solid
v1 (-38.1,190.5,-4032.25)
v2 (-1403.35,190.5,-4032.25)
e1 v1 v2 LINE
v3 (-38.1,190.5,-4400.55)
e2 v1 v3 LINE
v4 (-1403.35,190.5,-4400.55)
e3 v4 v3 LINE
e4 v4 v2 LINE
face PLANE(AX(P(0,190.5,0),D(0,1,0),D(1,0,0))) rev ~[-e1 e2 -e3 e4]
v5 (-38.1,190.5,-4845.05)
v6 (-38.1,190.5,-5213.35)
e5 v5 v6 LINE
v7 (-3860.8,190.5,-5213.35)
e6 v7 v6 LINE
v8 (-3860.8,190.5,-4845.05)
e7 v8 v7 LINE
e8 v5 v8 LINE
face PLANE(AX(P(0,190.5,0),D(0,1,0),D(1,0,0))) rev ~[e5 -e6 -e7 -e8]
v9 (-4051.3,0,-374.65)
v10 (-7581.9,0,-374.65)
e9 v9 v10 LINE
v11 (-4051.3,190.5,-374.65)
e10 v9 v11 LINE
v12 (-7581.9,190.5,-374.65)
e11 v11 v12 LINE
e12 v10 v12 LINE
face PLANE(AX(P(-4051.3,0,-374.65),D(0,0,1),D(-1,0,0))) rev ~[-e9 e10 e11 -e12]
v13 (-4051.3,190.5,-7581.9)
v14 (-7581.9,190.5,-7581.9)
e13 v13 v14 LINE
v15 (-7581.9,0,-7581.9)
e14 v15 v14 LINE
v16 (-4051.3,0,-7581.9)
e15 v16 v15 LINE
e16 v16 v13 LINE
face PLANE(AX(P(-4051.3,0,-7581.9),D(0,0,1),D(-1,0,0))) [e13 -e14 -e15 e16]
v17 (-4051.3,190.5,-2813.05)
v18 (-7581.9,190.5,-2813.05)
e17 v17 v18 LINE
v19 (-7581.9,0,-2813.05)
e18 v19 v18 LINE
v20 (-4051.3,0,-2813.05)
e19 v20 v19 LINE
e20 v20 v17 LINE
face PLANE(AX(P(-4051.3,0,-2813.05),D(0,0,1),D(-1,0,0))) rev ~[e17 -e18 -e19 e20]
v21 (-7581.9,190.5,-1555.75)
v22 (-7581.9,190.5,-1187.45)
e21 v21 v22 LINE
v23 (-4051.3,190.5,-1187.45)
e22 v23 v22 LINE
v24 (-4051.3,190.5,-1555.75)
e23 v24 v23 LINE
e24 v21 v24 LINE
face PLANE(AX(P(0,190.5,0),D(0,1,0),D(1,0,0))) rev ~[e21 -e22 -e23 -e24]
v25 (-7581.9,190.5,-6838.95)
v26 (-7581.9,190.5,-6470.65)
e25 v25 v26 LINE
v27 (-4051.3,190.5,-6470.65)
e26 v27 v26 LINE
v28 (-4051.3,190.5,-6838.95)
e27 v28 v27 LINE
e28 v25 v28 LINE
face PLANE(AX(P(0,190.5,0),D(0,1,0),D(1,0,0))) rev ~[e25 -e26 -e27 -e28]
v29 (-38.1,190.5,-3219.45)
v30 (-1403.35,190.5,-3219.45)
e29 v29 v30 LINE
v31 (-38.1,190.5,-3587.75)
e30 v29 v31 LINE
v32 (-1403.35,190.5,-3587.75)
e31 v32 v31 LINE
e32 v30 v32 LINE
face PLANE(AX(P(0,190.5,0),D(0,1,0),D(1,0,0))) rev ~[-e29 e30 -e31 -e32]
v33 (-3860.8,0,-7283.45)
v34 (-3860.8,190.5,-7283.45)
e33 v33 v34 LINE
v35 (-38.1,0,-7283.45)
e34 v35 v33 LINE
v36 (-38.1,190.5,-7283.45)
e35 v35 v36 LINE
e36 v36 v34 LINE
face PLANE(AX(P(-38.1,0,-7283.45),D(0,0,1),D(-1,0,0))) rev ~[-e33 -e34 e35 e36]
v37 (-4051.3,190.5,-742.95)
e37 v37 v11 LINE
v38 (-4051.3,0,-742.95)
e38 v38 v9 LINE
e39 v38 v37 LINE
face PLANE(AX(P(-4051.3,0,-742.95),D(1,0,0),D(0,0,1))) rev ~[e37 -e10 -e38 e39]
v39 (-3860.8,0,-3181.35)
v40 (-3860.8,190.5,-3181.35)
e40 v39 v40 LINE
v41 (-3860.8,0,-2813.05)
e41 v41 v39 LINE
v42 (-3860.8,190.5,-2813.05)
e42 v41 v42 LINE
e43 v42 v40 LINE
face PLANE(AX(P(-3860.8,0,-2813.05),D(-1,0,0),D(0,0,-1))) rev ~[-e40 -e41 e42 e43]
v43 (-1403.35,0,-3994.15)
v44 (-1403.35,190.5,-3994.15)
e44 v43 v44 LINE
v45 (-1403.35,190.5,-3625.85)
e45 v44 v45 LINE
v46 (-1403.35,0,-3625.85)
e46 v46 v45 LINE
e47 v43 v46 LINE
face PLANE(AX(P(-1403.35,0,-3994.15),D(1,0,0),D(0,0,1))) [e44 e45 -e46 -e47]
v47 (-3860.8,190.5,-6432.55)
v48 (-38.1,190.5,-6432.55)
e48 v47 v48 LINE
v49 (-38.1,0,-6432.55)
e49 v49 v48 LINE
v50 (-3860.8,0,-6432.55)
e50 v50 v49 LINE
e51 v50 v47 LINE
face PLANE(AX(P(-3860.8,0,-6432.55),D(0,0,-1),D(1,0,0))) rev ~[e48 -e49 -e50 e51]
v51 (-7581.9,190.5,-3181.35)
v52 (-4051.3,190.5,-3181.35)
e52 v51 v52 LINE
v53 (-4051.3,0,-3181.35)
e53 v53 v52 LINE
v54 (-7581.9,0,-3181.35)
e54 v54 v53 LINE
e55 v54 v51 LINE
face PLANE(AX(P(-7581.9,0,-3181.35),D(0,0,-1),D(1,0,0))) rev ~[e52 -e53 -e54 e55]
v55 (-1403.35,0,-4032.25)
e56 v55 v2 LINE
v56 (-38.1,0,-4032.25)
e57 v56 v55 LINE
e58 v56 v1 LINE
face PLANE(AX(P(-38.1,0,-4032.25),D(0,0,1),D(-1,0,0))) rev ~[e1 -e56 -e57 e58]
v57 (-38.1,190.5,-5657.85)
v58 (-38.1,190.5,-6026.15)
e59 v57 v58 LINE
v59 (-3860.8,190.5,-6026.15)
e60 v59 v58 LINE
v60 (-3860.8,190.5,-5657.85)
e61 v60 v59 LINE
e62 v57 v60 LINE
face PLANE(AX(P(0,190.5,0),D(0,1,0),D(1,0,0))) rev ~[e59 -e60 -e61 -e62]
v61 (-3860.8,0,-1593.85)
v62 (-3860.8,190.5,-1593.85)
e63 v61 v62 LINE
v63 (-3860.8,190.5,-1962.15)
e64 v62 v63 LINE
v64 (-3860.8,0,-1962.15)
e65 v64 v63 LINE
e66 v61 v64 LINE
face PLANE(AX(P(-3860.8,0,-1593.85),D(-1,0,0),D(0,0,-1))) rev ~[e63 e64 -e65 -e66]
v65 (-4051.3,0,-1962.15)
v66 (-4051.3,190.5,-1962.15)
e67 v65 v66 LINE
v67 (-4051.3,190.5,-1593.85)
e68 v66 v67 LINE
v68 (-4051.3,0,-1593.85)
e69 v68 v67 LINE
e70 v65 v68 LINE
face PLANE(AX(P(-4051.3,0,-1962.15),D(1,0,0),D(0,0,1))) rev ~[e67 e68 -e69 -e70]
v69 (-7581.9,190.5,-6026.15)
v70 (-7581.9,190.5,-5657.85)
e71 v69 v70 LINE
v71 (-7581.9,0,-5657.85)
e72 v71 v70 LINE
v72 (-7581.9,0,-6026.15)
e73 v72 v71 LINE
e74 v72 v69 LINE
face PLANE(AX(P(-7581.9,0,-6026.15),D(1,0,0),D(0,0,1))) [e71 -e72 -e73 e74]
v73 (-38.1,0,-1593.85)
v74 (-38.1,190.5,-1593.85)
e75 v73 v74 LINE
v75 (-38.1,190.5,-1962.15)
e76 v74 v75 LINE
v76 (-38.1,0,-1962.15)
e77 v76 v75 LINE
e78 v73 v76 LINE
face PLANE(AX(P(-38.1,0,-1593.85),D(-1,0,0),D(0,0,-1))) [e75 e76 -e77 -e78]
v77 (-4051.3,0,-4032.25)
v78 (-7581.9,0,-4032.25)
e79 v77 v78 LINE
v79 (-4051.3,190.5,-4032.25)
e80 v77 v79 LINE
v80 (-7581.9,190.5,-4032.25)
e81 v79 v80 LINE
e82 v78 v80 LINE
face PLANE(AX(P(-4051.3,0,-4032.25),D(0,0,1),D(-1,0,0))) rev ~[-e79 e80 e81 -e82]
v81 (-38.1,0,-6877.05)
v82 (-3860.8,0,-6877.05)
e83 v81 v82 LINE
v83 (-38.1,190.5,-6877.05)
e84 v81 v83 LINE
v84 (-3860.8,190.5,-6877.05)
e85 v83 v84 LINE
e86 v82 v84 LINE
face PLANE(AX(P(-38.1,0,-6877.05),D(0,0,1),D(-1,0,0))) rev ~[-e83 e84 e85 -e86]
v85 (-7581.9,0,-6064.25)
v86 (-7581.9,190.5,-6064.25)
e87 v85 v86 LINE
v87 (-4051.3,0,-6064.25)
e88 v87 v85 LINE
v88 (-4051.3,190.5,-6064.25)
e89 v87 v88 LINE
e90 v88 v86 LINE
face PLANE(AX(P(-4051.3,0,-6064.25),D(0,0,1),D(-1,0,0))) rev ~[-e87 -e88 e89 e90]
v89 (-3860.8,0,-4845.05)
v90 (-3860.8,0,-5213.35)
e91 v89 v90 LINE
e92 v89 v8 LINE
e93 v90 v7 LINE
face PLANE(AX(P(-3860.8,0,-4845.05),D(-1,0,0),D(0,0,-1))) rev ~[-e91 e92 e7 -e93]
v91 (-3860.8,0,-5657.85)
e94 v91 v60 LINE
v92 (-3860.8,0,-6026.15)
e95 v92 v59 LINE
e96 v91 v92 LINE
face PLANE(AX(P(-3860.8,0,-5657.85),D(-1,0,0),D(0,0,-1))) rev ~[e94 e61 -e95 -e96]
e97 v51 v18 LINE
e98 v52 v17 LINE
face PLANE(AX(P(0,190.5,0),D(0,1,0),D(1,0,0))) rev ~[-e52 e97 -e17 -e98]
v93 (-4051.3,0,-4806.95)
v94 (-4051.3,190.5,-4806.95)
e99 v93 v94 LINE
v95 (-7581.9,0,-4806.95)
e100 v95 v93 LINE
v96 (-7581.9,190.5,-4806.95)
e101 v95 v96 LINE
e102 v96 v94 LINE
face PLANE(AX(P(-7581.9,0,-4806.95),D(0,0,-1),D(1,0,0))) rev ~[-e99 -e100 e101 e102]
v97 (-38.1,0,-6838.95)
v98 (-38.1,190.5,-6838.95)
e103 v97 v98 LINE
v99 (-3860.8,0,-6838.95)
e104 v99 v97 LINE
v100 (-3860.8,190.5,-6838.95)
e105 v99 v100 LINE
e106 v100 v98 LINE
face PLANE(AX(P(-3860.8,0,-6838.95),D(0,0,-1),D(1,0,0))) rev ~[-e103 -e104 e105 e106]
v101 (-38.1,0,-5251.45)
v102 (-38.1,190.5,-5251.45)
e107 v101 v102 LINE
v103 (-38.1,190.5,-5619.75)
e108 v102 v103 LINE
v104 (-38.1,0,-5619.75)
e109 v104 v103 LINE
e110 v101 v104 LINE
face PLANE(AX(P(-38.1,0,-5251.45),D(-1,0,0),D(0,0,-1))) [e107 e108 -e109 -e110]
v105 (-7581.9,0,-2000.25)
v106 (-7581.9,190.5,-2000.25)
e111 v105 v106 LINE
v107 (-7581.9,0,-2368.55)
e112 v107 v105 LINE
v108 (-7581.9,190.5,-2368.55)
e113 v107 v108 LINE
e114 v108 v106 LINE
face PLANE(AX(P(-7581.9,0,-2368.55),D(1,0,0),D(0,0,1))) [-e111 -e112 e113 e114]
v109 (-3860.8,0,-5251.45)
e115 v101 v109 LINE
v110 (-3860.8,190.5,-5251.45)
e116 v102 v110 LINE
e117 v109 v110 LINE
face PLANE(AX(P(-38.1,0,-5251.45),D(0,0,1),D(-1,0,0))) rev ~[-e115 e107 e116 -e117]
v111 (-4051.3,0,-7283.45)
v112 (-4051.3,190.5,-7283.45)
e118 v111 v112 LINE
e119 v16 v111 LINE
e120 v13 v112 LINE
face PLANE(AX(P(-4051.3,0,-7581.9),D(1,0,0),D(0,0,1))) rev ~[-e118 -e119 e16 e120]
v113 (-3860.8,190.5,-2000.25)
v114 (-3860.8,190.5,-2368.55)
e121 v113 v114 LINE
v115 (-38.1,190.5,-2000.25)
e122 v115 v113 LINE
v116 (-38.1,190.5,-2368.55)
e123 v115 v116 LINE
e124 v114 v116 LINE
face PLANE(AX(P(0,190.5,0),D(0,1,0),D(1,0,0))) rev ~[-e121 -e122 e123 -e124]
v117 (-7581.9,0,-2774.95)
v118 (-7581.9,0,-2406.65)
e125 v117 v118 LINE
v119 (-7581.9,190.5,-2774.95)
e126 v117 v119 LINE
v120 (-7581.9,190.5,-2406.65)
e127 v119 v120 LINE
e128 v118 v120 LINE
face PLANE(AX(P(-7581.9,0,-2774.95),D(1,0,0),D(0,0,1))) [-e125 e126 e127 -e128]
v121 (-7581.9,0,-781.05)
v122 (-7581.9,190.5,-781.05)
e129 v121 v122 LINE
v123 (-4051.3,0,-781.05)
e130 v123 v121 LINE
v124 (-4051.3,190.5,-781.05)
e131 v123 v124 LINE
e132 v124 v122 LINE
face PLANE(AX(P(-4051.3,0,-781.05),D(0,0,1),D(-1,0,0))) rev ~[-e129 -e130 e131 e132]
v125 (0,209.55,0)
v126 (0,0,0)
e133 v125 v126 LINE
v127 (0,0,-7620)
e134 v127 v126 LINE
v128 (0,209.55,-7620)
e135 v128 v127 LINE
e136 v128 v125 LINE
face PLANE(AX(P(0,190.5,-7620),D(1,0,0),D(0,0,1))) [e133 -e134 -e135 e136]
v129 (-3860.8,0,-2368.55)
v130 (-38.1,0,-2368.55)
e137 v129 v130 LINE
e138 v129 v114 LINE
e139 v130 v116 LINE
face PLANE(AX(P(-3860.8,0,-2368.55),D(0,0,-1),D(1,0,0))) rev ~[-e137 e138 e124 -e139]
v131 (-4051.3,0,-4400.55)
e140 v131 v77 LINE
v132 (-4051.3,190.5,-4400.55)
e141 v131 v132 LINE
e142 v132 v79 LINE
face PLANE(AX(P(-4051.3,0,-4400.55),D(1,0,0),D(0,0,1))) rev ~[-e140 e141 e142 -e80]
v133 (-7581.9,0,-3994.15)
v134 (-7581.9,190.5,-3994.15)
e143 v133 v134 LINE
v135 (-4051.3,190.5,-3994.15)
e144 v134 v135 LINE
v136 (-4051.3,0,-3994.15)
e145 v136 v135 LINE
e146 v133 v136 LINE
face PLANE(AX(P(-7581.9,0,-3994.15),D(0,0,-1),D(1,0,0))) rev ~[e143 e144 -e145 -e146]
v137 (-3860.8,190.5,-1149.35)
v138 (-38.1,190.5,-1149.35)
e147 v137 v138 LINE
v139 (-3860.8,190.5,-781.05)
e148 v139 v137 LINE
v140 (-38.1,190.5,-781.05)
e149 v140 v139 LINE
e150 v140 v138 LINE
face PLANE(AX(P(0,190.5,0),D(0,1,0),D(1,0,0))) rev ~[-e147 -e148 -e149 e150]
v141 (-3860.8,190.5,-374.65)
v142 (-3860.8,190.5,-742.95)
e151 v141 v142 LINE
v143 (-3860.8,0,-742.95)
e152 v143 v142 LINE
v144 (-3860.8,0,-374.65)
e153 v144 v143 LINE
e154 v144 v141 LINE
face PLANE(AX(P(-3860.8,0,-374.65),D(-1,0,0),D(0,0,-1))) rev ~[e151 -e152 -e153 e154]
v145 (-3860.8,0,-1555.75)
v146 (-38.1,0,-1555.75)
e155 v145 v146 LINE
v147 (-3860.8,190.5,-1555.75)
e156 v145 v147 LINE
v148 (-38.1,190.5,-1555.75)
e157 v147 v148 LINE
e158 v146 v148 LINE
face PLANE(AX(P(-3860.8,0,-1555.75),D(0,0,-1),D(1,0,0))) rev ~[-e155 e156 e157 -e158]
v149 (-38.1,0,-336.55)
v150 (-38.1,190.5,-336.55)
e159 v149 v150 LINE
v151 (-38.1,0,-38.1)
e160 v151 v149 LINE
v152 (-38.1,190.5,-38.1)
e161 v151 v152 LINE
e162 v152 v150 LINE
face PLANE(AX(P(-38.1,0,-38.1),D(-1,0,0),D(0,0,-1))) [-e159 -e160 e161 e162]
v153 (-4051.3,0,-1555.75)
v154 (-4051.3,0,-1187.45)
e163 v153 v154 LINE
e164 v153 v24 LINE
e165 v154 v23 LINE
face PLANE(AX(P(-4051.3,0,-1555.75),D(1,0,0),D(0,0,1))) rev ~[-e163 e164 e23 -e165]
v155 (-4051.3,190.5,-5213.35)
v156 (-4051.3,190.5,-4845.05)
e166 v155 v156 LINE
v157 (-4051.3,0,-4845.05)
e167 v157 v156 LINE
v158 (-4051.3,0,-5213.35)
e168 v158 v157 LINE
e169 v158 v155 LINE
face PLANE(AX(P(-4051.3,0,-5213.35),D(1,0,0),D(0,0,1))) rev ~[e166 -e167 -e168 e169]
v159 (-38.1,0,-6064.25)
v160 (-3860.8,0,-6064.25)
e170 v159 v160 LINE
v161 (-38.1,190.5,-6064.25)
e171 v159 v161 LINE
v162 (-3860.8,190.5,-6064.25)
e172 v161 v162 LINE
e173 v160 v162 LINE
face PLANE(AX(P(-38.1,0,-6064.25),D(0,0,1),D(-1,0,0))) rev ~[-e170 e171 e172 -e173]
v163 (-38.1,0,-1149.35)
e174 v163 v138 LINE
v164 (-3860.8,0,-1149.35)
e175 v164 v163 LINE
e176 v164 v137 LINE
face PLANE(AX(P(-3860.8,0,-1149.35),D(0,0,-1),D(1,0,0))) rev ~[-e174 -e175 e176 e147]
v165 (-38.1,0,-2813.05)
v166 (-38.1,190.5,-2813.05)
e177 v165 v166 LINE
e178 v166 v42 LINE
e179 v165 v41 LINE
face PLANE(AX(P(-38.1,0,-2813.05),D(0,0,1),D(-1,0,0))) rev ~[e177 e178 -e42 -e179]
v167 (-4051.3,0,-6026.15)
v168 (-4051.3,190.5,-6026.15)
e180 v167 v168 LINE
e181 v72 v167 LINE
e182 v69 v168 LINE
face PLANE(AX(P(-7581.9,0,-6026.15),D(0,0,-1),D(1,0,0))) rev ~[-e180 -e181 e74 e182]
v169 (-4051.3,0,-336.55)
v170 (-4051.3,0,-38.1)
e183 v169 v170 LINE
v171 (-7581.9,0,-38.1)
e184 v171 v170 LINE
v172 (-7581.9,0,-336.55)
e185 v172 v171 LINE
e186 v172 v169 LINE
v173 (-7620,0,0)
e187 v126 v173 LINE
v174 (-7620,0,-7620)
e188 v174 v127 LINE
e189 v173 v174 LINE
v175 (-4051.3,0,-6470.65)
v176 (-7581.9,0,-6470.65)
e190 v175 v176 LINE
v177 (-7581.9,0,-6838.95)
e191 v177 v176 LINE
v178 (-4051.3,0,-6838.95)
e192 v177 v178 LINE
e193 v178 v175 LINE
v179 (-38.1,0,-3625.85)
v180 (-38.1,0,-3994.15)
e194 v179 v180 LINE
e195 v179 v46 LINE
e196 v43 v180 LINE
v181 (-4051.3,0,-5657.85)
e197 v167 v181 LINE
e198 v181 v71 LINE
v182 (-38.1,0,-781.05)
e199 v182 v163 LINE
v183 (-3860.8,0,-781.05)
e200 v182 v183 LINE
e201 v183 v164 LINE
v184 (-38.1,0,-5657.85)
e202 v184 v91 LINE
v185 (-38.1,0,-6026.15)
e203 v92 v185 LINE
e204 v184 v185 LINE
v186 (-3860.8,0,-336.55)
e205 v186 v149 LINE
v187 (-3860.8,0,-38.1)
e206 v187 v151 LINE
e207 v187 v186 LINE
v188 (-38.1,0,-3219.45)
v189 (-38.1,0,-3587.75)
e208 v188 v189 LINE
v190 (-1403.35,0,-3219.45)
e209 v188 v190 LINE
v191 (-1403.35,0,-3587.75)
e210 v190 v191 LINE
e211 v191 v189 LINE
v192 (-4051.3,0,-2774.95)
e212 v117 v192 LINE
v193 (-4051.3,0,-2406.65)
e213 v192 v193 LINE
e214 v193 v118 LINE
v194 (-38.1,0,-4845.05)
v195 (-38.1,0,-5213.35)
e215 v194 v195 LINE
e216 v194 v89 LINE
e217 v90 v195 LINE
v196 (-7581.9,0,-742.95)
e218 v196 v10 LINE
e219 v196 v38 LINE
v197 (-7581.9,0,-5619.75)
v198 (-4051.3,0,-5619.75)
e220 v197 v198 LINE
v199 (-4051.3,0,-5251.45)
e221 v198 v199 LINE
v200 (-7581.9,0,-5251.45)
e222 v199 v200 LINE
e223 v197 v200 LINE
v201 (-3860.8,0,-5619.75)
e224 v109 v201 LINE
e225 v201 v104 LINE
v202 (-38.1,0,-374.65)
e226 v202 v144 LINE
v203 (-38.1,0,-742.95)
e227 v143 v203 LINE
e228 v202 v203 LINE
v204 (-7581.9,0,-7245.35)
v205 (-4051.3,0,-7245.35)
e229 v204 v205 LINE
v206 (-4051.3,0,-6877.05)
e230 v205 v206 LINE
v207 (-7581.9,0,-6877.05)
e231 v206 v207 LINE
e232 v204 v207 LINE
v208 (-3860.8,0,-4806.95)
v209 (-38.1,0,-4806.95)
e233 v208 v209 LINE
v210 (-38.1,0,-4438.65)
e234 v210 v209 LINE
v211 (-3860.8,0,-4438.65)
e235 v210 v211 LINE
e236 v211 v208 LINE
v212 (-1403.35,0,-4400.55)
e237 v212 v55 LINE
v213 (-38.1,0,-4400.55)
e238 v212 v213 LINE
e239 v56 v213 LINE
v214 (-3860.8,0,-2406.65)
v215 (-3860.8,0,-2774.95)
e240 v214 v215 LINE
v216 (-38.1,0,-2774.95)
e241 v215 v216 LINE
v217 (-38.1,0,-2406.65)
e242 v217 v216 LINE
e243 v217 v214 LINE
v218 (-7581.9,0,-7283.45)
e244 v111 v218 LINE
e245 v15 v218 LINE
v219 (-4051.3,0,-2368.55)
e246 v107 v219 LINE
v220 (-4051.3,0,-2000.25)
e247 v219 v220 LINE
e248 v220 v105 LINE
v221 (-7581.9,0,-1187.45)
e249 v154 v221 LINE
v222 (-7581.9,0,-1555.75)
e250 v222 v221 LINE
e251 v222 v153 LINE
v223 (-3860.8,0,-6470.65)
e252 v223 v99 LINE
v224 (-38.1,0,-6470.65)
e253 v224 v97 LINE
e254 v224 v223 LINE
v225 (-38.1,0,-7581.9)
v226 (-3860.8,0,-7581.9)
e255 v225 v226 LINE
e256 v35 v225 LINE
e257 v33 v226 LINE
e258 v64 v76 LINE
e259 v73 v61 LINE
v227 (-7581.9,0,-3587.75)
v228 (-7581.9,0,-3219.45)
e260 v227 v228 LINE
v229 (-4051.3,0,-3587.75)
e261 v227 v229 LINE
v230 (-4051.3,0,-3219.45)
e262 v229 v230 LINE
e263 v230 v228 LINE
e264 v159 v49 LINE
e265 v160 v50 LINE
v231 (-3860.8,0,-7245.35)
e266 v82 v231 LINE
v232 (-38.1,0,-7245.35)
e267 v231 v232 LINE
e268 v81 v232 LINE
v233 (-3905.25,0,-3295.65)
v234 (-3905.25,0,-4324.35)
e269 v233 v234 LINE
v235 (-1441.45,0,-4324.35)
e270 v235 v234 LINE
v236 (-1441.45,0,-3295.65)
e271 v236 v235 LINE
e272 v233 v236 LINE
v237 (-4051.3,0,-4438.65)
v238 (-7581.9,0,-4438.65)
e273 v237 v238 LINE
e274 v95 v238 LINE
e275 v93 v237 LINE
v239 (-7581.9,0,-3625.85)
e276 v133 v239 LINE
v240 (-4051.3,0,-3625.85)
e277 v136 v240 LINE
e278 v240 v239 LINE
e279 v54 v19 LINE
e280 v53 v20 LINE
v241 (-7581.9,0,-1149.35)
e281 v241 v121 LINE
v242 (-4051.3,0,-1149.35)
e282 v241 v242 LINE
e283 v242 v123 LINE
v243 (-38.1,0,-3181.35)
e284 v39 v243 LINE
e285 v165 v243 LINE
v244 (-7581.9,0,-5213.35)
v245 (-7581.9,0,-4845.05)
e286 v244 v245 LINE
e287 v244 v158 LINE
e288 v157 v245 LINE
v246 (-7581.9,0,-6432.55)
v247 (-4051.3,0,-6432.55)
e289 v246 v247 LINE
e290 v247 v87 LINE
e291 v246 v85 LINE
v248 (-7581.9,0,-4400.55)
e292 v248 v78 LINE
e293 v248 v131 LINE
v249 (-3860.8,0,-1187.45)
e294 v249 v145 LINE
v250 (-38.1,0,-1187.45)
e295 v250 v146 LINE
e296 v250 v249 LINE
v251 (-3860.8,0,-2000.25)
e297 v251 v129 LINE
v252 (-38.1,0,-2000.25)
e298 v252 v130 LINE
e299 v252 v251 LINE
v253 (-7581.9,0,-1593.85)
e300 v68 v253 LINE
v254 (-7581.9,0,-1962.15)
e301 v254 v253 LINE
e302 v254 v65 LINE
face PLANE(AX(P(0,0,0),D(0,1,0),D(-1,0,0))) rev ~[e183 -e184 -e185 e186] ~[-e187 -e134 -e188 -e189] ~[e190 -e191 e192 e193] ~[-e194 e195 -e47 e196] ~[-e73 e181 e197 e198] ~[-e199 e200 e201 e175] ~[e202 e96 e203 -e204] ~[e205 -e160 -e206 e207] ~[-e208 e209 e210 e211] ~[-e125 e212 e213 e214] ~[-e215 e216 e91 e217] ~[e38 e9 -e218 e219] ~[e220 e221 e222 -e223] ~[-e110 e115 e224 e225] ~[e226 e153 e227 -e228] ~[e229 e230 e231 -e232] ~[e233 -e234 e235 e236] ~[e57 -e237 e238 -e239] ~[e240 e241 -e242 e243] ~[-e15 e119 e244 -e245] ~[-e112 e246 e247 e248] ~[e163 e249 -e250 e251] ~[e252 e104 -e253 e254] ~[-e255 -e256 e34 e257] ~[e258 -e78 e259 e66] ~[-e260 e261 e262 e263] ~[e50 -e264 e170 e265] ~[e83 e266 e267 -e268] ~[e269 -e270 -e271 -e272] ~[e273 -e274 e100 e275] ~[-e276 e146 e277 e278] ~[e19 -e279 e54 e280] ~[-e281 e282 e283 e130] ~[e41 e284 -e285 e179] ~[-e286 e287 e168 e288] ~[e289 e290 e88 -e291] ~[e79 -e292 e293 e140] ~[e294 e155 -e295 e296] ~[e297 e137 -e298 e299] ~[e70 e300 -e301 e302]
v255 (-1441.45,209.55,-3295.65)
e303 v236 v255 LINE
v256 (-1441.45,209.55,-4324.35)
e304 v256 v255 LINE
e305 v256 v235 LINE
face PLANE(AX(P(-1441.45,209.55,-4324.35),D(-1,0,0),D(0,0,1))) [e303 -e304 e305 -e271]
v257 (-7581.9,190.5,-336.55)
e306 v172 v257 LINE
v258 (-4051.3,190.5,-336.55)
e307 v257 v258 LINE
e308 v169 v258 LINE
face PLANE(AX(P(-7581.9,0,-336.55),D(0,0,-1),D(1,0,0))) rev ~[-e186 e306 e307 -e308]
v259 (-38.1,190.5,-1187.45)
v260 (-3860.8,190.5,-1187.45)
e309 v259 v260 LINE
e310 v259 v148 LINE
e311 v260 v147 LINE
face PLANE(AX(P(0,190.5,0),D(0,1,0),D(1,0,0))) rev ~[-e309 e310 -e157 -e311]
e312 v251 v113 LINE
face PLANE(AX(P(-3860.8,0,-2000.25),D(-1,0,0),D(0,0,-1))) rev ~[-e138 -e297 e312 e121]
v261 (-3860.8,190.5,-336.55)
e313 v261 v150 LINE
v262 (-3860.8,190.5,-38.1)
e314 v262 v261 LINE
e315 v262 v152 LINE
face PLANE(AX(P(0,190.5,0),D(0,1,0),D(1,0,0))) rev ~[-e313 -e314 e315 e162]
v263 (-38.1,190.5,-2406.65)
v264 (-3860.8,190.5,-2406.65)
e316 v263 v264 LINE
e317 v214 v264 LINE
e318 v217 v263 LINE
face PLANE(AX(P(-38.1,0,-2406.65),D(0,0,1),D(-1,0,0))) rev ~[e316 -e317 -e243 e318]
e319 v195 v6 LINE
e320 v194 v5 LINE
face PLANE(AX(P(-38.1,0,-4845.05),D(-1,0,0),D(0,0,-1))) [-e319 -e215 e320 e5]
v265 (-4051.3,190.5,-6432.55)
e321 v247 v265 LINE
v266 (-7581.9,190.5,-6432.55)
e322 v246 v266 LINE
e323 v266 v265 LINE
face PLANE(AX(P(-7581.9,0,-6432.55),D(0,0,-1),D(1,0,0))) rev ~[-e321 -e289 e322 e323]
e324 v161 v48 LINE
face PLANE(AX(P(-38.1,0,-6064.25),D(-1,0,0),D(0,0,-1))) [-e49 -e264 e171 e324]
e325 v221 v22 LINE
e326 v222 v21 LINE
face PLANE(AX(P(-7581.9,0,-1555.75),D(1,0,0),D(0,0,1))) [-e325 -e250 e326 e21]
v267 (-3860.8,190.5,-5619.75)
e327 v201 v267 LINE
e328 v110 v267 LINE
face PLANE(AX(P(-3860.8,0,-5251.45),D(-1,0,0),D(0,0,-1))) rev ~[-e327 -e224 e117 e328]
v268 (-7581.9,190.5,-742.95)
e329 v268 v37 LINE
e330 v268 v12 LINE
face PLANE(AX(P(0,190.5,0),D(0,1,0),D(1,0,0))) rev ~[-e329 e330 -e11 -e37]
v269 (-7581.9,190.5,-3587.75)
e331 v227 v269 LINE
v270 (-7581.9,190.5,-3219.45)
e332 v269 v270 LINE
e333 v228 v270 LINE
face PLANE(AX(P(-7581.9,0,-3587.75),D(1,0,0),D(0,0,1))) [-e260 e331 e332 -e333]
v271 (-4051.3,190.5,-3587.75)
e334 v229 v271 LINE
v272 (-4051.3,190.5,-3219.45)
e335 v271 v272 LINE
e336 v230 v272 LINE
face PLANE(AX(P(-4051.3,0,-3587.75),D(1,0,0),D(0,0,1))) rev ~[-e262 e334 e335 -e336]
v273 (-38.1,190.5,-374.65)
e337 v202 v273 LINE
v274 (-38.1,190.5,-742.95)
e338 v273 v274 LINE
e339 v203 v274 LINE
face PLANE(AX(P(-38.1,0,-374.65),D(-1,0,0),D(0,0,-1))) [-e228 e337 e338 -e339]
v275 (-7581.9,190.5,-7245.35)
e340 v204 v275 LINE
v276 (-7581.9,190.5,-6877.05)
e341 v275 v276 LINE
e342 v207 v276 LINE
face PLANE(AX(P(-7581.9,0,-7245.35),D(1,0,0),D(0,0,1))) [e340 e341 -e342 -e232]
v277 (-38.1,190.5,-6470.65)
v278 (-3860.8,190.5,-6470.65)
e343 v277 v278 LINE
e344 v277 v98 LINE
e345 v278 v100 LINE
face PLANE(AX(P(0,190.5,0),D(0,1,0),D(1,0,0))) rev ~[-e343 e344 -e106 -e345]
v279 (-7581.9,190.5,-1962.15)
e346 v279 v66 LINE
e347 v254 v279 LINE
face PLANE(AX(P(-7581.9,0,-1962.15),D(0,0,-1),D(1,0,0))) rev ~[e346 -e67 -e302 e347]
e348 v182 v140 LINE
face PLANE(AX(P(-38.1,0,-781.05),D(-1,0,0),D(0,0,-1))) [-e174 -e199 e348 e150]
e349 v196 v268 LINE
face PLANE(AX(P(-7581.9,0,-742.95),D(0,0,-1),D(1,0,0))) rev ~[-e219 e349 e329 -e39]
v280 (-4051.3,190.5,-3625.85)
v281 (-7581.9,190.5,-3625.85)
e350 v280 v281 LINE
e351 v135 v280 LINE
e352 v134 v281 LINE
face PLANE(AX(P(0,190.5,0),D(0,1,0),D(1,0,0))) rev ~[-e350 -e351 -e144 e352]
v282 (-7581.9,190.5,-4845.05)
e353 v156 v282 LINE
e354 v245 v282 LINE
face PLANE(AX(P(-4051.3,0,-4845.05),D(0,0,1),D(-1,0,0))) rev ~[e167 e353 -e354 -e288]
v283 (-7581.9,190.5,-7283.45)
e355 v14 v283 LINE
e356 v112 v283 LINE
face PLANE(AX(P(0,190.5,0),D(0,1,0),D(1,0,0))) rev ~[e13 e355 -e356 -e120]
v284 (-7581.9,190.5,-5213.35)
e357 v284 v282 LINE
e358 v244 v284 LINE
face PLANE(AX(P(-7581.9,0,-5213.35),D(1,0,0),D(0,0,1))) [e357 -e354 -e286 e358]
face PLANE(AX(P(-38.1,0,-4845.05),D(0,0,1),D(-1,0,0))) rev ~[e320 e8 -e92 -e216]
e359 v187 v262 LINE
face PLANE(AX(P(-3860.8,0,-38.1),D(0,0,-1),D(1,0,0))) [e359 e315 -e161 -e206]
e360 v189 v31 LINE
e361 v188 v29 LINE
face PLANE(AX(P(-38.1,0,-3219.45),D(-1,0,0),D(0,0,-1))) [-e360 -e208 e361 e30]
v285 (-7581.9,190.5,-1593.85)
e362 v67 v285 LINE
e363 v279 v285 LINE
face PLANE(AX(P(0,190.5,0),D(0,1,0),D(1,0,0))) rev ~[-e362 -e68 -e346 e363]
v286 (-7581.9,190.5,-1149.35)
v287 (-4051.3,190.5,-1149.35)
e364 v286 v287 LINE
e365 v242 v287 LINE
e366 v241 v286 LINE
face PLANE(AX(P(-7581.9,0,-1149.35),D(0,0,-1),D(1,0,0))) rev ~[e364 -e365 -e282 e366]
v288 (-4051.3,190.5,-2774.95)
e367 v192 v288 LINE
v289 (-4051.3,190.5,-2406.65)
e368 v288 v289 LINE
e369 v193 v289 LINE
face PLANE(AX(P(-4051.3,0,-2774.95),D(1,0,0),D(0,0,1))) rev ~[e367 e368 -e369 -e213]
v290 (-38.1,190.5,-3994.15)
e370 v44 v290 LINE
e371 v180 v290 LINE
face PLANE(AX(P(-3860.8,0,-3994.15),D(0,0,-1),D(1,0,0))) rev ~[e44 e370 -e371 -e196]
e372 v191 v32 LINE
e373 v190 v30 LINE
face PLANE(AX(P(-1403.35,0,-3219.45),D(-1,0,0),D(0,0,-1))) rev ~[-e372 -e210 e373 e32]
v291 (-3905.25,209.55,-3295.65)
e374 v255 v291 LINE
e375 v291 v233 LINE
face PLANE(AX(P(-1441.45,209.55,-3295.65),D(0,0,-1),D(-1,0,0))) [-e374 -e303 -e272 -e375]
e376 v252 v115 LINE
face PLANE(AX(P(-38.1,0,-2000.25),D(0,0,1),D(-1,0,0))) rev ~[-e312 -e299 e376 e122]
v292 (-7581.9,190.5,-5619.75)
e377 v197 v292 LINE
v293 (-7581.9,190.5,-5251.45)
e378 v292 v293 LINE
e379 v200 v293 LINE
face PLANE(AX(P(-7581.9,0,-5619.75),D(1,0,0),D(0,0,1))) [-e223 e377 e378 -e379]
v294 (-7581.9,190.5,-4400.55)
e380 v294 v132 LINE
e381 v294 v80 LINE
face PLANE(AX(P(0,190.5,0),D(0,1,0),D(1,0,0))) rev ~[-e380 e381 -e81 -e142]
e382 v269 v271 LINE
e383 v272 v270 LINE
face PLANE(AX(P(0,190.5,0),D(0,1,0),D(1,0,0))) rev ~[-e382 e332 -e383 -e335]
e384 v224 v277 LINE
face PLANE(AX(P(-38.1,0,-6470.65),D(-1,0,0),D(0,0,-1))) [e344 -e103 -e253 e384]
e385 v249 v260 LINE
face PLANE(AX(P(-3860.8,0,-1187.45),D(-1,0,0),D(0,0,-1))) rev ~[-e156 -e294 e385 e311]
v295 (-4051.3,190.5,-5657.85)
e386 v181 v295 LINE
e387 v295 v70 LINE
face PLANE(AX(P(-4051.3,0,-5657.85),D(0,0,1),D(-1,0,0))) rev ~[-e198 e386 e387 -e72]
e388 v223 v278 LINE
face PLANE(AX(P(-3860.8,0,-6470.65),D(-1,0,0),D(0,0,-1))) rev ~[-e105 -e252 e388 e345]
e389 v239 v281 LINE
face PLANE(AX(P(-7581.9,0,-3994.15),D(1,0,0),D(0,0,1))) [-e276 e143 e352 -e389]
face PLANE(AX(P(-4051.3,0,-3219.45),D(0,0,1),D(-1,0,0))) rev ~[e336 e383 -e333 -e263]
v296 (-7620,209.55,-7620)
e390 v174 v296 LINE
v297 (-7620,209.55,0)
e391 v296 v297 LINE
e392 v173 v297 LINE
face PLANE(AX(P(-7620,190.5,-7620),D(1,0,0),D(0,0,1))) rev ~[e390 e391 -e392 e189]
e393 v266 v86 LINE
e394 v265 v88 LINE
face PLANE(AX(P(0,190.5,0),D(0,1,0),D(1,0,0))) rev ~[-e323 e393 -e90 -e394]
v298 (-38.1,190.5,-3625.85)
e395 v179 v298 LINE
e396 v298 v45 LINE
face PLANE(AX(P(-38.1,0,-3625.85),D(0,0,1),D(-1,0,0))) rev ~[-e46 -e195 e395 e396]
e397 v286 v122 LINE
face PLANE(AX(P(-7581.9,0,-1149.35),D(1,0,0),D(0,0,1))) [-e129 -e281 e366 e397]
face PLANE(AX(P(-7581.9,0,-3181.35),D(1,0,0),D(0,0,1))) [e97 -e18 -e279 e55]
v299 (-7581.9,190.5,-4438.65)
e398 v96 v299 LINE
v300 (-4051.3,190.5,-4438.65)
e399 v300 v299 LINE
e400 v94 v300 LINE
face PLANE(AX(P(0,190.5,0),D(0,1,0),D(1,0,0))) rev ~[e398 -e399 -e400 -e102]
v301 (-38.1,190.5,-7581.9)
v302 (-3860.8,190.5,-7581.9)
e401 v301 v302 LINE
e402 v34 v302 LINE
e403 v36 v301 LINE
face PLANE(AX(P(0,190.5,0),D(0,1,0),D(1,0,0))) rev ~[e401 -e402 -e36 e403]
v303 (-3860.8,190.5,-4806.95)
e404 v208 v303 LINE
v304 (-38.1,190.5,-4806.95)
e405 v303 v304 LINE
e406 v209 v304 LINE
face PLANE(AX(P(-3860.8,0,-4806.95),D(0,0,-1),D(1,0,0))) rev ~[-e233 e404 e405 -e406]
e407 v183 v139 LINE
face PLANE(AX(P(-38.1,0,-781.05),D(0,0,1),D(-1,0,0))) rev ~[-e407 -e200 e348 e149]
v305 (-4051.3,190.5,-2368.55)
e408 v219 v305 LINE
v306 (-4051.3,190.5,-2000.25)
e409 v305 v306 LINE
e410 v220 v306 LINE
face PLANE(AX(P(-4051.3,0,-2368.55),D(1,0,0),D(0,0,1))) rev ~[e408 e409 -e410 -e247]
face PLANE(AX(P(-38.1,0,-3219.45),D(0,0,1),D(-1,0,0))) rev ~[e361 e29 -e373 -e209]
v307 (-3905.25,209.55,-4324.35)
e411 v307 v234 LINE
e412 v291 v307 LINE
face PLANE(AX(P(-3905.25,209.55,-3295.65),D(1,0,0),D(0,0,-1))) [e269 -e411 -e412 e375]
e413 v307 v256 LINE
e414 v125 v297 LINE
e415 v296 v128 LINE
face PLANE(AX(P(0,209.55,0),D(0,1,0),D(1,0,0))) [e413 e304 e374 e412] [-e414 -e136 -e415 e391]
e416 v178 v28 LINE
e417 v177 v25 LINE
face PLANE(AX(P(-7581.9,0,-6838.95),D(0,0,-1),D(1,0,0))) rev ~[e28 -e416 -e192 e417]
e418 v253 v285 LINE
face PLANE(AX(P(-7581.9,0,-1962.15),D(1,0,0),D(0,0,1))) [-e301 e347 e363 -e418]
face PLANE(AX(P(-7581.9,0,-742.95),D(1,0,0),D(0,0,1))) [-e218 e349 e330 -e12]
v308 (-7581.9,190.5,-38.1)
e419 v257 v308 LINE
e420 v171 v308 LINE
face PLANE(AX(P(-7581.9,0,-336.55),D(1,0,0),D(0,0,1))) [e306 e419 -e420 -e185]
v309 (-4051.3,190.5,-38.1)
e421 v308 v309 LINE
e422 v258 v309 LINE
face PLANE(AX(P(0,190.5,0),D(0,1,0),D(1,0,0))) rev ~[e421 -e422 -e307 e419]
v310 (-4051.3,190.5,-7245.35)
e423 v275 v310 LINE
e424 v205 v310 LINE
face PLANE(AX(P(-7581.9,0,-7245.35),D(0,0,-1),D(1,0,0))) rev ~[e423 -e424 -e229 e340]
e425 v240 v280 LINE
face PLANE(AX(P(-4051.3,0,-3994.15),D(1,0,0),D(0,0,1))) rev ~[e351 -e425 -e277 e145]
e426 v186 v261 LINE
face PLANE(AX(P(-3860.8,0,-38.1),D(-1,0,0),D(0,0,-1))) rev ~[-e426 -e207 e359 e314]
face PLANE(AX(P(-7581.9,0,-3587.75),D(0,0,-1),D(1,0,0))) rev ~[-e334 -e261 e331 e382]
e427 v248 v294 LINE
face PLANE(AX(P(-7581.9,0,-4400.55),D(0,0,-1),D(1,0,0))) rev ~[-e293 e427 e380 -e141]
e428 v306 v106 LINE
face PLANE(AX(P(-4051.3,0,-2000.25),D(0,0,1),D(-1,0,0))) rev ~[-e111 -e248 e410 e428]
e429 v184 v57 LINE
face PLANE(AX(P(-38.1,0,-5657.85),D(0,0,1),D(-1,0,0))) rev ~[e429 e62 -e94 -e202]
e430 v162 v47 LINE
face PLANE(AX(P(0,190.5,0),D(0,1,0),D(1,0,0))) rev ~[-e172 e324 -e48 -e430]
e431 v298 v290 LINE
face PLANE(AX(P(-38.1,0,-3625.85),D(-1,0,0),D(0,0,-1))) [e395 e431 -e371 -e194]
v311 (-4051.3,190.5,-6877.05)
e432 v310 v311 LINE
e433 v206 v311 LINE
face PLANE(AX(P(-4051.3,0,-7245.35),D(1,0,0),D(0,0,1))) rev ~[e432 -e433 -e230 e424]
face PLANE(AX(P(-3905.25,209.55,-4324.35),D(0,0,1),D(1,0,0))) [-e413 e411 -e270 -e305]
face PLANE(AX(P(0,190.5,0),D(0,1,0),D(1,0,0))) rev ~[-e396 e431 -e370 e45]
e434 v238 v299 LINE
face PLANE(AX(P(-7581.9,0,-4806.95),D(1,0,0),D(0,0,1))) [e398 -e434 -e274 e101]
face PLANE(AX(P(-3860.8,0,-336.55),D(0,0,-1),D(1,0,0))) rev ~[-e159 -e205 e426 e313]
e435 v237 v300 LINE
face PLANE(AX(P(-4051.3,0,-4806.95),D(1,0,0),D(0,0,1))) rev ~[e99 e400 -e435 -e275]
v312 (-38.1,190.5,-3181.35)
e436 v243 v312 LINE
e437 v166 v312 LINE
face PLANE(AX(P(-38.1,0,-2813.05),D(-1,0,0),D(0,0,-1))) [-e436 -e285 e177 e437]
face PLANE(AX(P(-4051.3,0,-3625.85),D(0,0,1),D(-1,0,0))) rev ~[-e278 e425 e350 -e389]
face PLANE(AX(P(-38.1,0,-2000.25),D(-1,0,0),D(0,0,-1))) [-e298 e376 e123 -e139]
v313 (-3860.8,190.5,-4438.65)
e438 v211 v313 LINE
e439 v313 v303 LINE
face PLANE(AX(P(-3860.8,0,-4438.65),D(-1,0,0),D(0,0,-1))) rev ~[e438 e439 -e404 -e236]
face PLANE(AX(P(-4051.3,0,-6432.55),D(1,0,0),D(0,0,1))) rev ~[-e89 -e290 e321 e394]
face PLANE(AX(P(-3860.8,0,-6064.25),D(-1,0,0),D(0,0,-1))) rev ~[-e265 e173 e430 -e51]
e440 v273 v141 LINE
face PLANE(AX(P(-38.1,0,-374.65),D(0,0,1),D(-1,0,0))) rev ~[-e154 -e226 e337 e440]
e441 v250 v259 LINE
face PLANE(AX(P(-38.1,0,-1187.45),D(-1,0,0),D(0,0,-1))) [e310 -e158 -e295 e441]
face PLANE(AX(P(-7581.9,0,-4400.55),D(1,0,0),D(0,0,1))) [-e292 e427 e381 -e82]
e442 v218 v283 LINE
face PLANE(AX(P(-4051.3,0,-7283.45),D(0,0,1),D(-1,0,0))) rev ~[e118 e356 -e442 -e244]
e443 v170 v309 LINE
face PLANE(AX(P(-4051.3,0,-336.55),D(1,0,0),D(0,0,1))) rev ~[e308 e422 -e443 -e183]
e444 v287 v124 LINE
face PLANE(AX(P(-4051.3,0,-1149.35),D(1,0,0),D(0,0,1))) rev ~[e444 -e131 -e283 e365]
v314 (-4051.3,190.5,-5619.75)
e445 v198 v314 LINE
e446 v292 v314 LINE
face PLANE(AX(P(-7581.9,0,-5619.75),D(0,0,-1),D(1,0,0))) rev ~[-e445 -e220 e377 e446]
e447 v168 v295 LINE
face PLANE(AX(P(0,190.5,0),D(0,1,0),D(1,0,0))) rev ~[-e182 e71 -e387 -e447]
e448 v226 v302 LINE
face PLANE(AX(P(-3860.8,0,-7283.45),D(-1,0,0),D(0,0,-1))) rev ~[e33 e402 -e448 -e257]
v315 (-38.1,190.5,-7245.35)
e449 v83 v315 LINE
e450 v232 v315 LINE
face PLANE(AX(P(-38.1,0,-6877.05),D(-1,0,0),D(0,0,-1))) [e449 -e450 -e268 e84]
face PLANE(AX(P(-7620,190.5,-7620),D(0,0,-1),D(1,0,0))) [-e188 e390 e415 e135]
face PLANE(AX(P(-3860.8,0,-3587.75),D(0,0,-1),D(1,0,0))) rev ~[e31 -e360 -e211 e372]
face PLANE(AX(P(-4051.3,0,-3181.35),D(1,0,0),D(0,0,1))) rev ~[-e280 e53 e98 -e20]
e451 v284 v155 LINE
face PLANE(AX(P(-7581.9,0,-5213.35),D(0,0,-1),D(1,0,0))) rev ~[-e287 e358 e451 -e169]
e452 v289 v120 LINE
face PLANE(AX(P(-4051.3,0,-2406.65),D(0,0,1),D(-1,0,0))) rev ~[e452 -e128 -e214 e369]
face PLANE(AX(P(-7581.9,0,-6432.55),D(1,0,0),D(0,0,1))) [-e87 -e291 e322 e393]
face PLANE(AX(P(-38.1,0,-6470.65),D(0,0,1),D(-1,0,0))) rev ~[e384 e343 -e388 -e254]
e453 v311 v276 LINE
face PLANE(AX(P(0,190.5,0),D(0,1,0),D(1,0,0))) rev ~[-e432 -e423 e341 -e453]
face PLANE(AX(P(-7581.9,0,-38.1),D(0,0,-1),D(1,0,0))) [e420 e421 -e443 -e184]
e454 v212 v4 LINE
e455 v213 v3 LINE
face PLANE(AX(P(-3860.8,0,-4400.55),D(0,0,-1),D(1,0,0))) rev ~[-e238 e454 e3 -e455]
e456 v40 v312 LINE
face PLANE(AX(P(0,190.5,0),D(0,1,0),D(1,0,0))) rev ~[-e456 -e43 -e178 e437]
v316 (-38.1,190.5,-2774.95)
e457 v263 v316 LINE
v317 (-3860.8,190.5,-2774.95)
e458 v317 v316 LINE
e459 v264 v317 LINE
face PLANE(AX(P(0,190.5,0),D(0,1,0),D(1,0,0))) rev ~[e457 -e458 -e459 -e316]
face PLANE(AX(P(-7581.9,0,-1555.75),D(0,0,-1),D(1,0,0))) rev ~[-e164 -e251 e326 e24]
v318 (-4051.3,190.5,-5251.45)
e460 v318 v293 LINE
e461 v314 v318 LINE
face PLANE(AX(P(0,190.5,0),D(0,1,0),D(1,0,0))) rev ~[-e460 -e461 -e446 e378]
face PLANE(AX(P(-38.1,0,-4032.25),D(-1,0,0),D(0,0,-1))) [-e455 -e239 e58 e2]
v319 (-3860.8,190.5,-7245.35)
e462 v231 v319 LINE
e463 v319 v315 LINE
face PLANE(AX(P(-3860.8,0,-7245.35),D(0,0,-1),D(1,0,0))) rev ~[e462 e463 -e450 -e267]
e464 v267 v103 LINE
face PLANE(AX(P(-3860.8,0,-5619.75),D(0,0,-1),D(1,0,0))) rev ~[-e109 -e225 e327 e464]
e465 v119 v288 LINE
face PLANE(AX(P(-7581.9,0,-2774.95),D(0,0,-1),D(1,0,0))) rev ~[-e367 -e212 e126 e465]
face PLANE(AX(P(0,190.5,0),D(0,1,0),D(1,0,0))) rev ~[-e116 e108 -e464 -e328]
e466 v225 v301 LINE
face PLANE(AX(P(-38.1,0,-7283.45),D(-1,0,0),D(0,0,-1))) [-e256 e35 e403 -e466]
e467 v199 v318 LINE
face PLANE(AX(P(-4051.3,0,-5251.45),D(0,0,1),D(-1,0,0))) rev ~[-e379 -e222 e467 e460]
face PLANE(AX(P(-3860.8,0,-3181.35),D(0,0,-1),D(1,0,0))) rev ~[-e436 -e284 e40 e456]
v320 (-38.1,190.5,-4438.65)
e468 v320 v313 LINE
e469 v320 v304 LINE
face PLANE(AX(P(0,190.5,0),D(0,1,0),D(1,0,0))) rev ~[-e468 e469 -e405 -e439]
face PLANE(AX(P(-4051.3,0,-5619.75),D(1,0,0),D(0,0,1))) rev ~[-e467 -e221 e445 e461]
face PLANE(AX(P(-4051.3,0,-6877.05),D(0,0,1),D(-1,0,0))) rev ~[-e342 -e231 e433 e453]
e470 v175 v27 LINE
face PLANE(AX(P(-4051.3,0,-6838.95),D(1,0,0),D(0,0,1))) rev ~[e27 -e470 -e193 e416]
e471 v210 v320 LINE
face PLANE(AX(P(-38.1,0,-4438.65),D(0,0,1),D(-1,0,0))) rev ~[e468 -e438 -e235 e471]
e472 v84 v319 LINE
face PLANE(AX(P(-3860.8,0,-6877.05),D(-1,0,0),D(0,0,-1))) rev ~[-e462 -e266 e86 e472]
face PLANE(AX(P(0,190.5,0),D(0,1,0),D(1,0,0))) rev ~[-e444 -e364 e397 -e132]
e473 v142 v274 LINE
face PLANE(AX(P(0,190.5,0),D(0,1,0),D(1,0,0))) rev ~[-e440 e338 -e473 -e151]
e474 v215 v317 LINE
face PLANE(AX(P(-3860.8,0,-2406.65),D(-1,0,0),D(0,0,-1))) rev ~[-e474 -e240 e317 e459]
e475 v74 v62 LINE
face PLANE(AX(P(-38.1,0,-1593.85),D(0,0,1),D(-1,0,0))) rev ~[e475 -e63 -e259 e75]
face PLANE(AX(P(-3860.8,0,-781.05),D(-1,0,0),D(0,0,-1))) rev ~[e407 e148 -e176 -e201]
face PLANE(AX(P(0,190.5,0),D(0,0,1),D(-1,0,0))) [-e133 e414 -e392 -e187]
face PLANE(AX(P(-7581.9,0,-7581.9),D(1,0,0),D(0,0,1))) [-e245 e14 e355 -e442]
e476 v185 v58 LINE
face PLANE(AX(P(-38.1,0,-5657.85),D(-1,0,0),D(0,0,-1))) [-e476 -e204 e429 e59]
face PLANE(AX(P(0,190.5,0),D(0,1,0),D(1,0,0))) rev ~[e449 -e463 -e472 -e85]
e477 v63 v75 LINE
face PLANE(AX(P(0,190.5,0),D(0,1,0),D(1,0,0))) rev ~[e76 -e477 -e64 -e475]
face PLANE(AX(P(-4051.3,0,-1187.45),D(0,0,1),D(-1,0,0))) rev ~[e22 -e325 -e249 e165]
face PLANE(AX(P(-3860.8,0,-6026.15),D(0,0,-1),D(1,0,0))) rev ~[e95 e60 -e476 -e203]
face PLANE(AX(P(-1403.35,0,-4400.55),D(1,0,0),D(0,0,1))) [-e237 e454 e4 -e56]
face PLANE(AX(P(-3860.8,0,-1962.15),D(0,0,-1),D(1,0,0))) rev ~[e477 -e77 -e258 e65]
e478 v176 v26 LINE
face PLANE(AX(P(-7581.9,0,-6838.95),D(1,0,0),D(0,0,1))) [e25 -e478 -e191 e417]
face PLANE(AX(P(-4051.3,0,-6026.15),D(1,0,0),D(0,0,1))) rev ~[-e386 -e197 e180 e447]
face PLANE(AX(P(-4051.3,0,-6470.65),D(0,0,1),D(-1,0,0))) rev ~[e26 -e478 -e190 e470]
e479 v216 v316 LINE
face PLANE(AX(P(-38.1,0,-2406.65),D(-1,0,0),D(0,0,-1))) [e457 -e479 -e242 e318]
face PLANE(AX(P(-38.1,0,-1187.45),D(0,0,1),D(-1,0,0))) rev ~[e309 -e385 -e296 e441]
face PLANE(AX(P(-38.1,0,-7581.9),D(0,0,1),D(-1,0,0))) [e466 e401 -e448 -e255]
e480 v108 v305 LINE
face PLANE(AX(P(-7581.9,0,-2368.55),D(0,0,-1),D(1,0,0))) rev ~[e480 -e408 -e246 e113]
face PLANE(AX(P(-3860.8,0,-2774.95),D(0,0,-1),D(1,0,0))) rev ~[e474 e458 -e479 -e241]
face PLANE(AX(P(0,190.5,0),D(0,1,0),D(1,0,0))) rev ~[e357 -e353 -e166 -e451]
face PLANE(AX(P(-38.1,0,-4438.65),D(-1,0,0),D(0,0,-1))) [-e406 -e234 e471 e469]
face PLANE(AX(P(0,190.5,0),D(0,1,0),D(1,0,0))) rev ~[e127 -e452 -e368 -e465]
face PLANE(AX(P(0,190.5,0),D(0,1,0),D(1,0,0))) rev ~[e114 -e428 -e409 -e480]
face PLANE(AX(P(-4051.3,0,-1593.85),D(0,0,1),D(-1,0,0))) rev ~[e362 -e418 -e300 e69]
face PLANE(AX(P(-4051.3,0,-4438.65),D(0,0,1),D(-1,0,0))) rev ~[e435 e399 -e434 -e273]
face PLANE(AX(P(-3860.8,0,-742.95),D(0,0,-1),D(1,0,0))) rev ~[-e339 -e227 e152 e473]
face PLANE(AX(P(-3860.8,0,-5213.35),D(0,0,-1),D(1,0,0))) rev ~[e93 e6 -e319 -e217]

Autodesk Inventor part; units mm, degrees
ref_plane "YZ Plane" through (0, 0, 0) normal (1, 0, 0) x (0, 1, 0)
ref_plane "XZ Plane" through (0, 0, 0) normal (0, 1, 0) x (-1, 0, 0)
ref_plane "XY Plane" through (0, 0, 0) normal (0, 0, 1) x (1, 0, 0)
sketch "Sketch1" plane through (0, 0, 0) normal (0, 1, 0) x (-1, 0, 0)
  line L0 (0, 0) -> (7620, 0)
  line L1 (7620, 0) -> (7620, -7620)
  line L2 (7620, -7620) -> (0, -7620)
  line L3 (0, -7620) -> (0, 0)
  line L4 (7581.9, -7581.9) -> (7581.9, -38.1)
  line L5 (7581.9, -38.1) -> (38.1, -38.1)
  line L6 (38.1, -38.1) -> (38.1, -7581.9)
  line L7 (38.1, -7581.9) -> (7581.9, -7581.9)
  line L8 (4051.3, -7581.9) -> (4051.3, -38.1)
  line L9 (3860.8, -38.1) -> (3860.8, -7581.9)
  line L10 (7581.9, -336.55) -> (38.1, -336.55)
  line L11 (38.1, -336.55) -> (38.1, -374.65)
  line L12 (38.1, -374.65) -> (7581.9, -374.65)
  line L13 (7581.9, -374.65) -> (7581.9, -336.55)
  line L14 (7581.9, -742.95) -> (38.1, -742.95)
  line L15 (38.1, -781.05) -> (7581.9, -781.05)
  line L16 (7581.9, -781.05) -> (7581.9, -742.95)
  line L17 (38.1, -742.95) -> (38.1, -781.05)
  line L18 (7581.9, -1149.35) -> (38.1, -1149.35)
  line L19 (38.1, -1187.45) -> (7581.9, -1187.45)
  line L20 (7581.9, -1187.45) -> (7581.9, -1149.35)
  line L21 (38.1, -1149.35) -> (38.1, -1187.45)
  line L22 (7581.9, -1555.75) -> (38.1, -1555.75)
  line L23 (38.1, -1593.85) -> (7581.9, -1593.85)
  line L24 (7581.9, -1593.85) -> (7581.9, -1555.75)
  line L25 (38.1, -1555.75) -> (38.1, -1593.85)
  line L26 (7581.9, -1962.15) -> (38.1, -1962.15)
  line L27 (38.1, -2000.25) -> (7581.9, -2000.25)
  line L28 (7581.9, -2000.25) -> (7581.9, -1962.15)
  line L29 (38.1, -1962.15) -> (38.1, -2000.25)
  line L30 (7581.9, -2368.55) -> (38.1, -2368.55)
  line L31 (38.1, -2406.65) -> (7581.9, -2406.65)
  line L32 (7581.9, -2406.65) -> (7581.9, -2368.55)
  line L33 (38.1, -2368.55) -> (38.1, -2406.65)
  line L34 (7581.9, -2774.95) -> (38.1, -2774.95)
  line L35 (38.1, -2813.05) -> (7581.9, -2813.05)
  line L36 (7581.9, -2813.05) -> (7581.9, -2774.95)
  line L37 (38.1, -2774.95) -> (38.1, -2813.05)
  line L38 (7581.9, -3181.35) -> (38.1, -3181.35)
  line L39 (38.1, -3219.45) -> (7581.9, -3219.45)
  line L40 (7581.9, -3219.45) -> (7581.9, -3181.35)
  line L41 (38.1, -3181.35) -> (38.1, -3219.45)
  line L42 (7581.9, -3587.75) -> (38.1, -3587.75)
  line L43 (38.1, -3625.85) -> (7581.9, -3625.85)
  line L44 (7581.9, -3625.85) -> (7581.9, -3587.75)
  line L45 (38.1, -3587.75) -> (38.1, -3625.85)
  line L46 (7581.9, -3994.15) -> (38.1, -3994.15)
  line L47 (38.1, -4032.25) -> (7581.9, -4032.25)
  line L48 (7581.9, -4032.25) -> (7581.9, -3994.15)
  line L49 (38.1, -3994.15) -> (38.1, -4032.25)
  line L50 (7581.9, -4400.55) -> (38.1, -4400.55)
  line L51 (38.1, -4438.65) -> (7581.9, -4438.65)
  line L52 (7581.9, -4438.65) -> (7581.9, -4400.55)
  line L53 (38.1, -4400.55) -> (38.1, -4438.65)
  line L54 (7581.9, -4806.95) -> (38.1, -4806.95)
  line L55 (38.1, -4845.05) -> (7581.9, -4845.05)
  line L56 (7581.9, -4845.05) -> (7581.9, -4806.95)
  line L57 (38.1, -4806.95) -> (38.1, -4845.05)
  line L58 (7581.9, -5213.35) -> (38.1, -5213.35)
  line L59 (38.1, -5251.45) -> (7581.9, -5251.45)
  line L60 (7581.9, -5251.45) -> (7581.9, -5213.35)
  line L61 (38.1, -5213.35) -> (38.1, -5251.45)
  line L62 (7581.9, -5619.75) -> (38.1, -5619.75)
  line L63 (38.1, -5657.85) -> (7581.9, -5657.85)
  line L64 (7581.9, -5657.85) -> (7581.9, -5619.75)
  line L65 (38.1, -5619.75) -> (38.1, -5657.85)
  line L66 (7581.9, -6026.15) -> (38.1, -6026.15)
  line L67 (38.1, -6064.25) -> (7581.9, -6064.25)
  line L68 (7581.9, -6064.25) -> (7581.9, -6026.15)
  line L69 (38.1, -6026.15) -> (38.1, -6064.25)
  line L70 (7581.9, -6432.55) -> (38.1, -6432.55)
  line L71 (38.1, -6470.65) -> (7581.9, -6470.65)
  line L72 (7581.9, -6470.65) -> (7581.9, -6432.55)
  line L73 (38.1, -6432.55) -> (38.1, -6470.65)
  line L74 (7581.9, -6838.95) -> (38.1, -6838.95)
  line L75 (38.1, -6877.05) -> (7581.9, -6877.05)
  line L76 (7581.9, -6877.05) -> (7581.9, -6838.95)
  line L77 (38.1, -6838.95) -> (38.1, -6877.05)
  line L78 (7581.9, -7245.35) -> (38.1, -7245.35)
  line L79 (38.1, -7283.45) -> (7581.9, -7283.45)
  line L80 (7581.9, -7283.45) -> (7581.9, -7245.35)
  line L81 (38.1, -7245.35) -> (38.1, -7283.45)
  point P0 (38.1, -7245.35)
  point P1 (38.1, -6838.95)
  point P2 (38.1, -6432.55)
  point P3 (38.1, -6026.15)
  point P4 (38.1, -5619.75)
  point P5 (38.1, -5213.35)
  point P6 (38.1, -4806.95)
  point P7 (38.1, -4400.55)
  point P8 (38.1, -3994.15)
  point P9 (38.1, -3587.75)
  point P10 (38.1, -3181.35)
  point P11 (38.1, -2774.95)
  point P12 (38.1, -2368.55)
  point P13 (38.1, -1962.15)
  point P14 (38.1, -1555.75)
  point P15 (38.1, -1149.35)
  point P16 (38.1, -742.95)
  point P17 (38.1, -336.55)
  point P18 (4051.3, -7283.45)
  point P19 (3860.8, -7283.45)
  point P20 (3860.8, -7245.35)
  point P21 (4051.3, -7245.35)
  point P22 (4051.3, -6877.05)
  point P23 (3860.8, -6877.05)
  point P24 (3860.8, -6838.95)
  point P25 (4051.3, -6838.95)
  point P26 (4051.3, -6470.65)
  point P27 (3860.8, -6470.65)
  point P28 (3860.8, -6432.55)
  point P29 (4051.3, -6432.55)
  point P30 (4051.3, -6064.25)
  point P31 (3860.8, -6064.25)
  point P32 (3860.8, -6026.15)
  point P33 (4051.3, -6026.15)
  point P34 (4051.3, -5657.85)
  point P35 (3860.8, -5657.85)
  point P36 (3860.8, -5619.75)
  point P37 (4051.3, -5619.75)
  point P38 (4051.3, -5251.45)
  point P39 (3860.8, -5251.45)
  point P40 (3860.8, -5213.35)
  point P41 (4051.3, -5213.35)
  point P42 (4051.3, -4845.05)
  point P43 (3860.8, -4845.05)
  point P44 (3860.8, -4806.95)
  point P45 (4051.3, -4806.95)
  point P46 (4051.3, -4438.65)
  point P47 (3860.8, -4438.65)
  point P48 (3860.8, -4400.55)
  point P49 (4051.3, -4400.55)
  point P50 (4051.3, -4032.25)
  point P51 (3860.8, -4032.25)
  point P52 (3860.8, -3994.15)
  point P53 (4051.3, -3994.15)
  point P54 (4051.3, -3625.85)
  point P55 (3860.8, -3625.85)
  point P56 (3860.8, -3587.75)
  point P57 (4051.3, -3587.75)
  point P58 (4051.3, -3219.45)
  point P59 (3860.8, -3219.45)
  point P60 (3860.8, -3181.35)
  point P61 (4051.3, -3181.35)
  point P62 (4051.3, -2813.05)
  point P63 (3860.8, -2813.05)
  point P64 (3860.8, -2774.95)
  point P65 (4051.3, -2774.95)
  point P66 (4051.3, -2406.65)
  point P67 (3860.8, -2406.65)
  point P68 (3860.8, -2368.55)
  point P69 (4051.3, -2368.55)
  point P70 (4051.3, -2000.25)
  point P71 (3860.8, -2000.25)
  point P72 (3860.8, -1962.15)
  point P73 (4051.3, -1962.15)
  point P74 (4051.3, -1593.85)
  point P75 (3860.8, -1593.85)
  point P76 (3860.8, -1555.75)
  point P77 (4051.3, -1555.75)
  point P78 (4051.3, -1187.45)
  point P79 (3860.8, -1187.45)
  point P80 (3860.8, -1149.35)
  point P81 (4051.3, -1149.35)
  point P82 (4051.3, -781.05)
  point P83 (3860.8, -781.05)
  point P84 (3860.8, -742.95)
  point P85 (4051.3, -742.95)
  point P86 (4051.3, -374.65)
  point P87 (3860.8, -374.65)
  point P88 (3860.8, -336.55)
  point P89 (4051.3, -336.55)
  dimension "d10" = 190.5
  dimension "d1" = 7620
  dimension "d3" = 7620
  dimension "d9" = 38.1
  dimension "d11" = 3568.7
  dimension "d12" = 38.1
  dimension "d13" = 336.55
  dimension "d16" = 406.4
  dimension "d21" = 336.55
extrude "Extrusion1" add sketch "Sketch1" along normal blind 190.5 contours L0 L1 L2 L3 | L79 L8 L78 L4 | L7 L9 L79 L8 | L79 L9 L78 L8 | L75 L8 L74 L4 | L78 L9 L75 L8 | L79 L6 L78 L9 | L75 L9 L74 L8 | L71 L8 L70 L4 | L74 L9 L71 L8 | L75 L6 L74 L9 | L71 L9 L70 L8 | L67 L8 L66 L4 | L70 L9 L67 L8 | L71 L6 L70 L9 | L67 L9 L66 L8 | L63 L8 L62 L4 | L66 L9 L63 L8 | L67 L6 L66 L9 | L63 L9 L62 L8 | L59 L8 L58 L4 | L62 L9 L59 L8 | L63 L6 L62 L9 | L59 L9 L58 L8 | L55 L8 L54 L4 | L58 L9 L55 L8 | L59 L6 L58 L9 | L55 L9 L54 L8 | L51 L8 L50 L4 | L54 L9 L51 L8 | L55 L6 L54 L9 | L51 L9 L50 L8 | L47 L8 L46 L4 | L50 L9 L47 L8 | L51 L6 L50 L9 | L47 L9 L46 L8 | L43 L8 L42 L4 | L46 L9 L43 L8 | L47 L6 L46 L9 | L43 L9 L42 L8 | L39 L8 L38 L4 | L42 L9 L39 L8 | L43 L6 L42 L9 | L39 L9 L38 L8 | L35 L8 L34 L4 | L38 L9 L35 L8 | L39 L6 L38 L9 | L35 L9 L34 L8 | L31 L8 L30 L4 | L34 L9 L31 L8 | L35 L6 L34 L9 | L31 L9 L30 L8 | L27 L8 L26 L4 | L30 L9 L27 L8 | L31 L6 L30 L9 | L27 L9 L26 L8 | L23 L8 L22 L4 | L26 L9 L23 L8 | L27 L6 L26 L9 | L23 L9 L22 L8 | L19 L8 L18 L4 | L22 L9 L19 L8 | L23 L6 L22 L9 | L19 L9 L18 L8 | L15 L8 L14 L4 | L18 L9 L15 L8 | L19 L6 L18 L9 | L15 L9 L14 L8 | L12 L8 L10 L4 | L14 L9 L12 L8 | L15 L6 L14 L9 | L12 L9 L10 L8 | L10 L9 L5 L8 | L12 L6 L10 L9
sketch "Sketch2" plane through (0, 190.5, 0) normal (0, 1, 0) x (1, 0, 0)
  line L0 (-7620, 7620) -> (-7620, 0) projected
  line L1 (-7620, 7620) -> (0, 7620)
  line L2 (0, 7620) -> (0, 0)
  line L3 (0, 0) -> (-7620, 0)
  line L4 (-7620, 0) -> (-7620, 7620)
extrude "Extrusion2" add sketch "Sketch2" along normal blind 19.05
sketch "Sketch4" plane through (0, 209.55, 0) normal (0, 1, 0) x (1, 0, 0)
  line L0 (-1441.45, 3295.65) -> (-3905.25, 3295.65)
  line L1 (-3905.25, 3295.65) -> (-3905.25, 4324.35)
  line L2 (-3905.25, 4324.35) -> (-1441.45, 4324.35)
  line L3 (-1441.45, 4324.35) -> (-1441.45, 3295.65)
  line L4 (0, 0) -> (0, 7620) projected
  line L5 (-7620, 0) -> (0, 0) projected
  point P0 (-1441.45, 3810)
  dimension "d32" = 2463.8
  dimension "d33" = 3295.65
  dimension "d34" = 1028.7
  dimension "d45" = 3905.25
extrude "Extrusion4" cut sketch "Sketch4" against normal through all
sketch "Sketch8" plane through (0, 0, 0) normal (0, -1, 0) x (1, 0, 0)
  line L0 (-1441.45, -3587.75) -> (-38.1, -3587.75) projected
  line L1 (-1403.35, -3587.75) -> (-1441.45, -3587.75)
  line L2 (-1441.45, -3587.75) -> (-1441.45, -3219.45)
  line L3 (-1403.35, -3219.45) -> (-1403.35, -3587.75)
  line L4 (-38.1, -3625.85) -> (-1441.45, -3625.85) projected
  line L5 (-1441.45, -3625.85) -> (-1441.45, -3994.15) projected
  line L6 (-1403.35, -3625.85) -> (-1441.45, -3625.85)
  line L7 (-1441.45, -3625.85) -> (-1441.45, -3994.15)
  line L8 (-1441.45, -3994.15) -> (-1403.35, -3994.15)
  line L9 (-1403.35, -3994.15) -> (-1403.35, -3625.85)
  line L10 (-1403.35, -4032.25) -> (-1441.45, -4032.25)
  line L11 (-1441.45, -4032.25) -> (-1441.45, -4400.55)
  line L12 (-1441.45, -4400.55) -> (-1403.35, -4400.55)
  line L13 (-1403.35, -4400.55) -> (-1403.35, -4032.25)
  line L14 (-1441.45, -3295.65) -> (-1441.45, -3587.75) projected
  line L15 (-38.1, -3219.45) -> (-3860.8, -3219.45) projected
  line L16 (-1441.45, -3219.45) -> (-1403.35, -3219.45)
  line L17 (-3860.8, -4400.55) -> (-38.1, -4400.55) projected
  line L18 (-38.1, -4032.25) -> (-1441.45, -4032.25) projected
  line L19 (-1441.45, -3295.65) -> (-3860.8, -3295.65)
  line L20 (-3860.8, -3295.65) -> (-3860.8, -3219.45)
  line L21 (-3860.8, -3219.45) -> (-1441.45, -3219.45)
  line L22 (-1441.45, -3219.45) -> (-1441.45, -3295.65)
  line L23 (-1441.45, -4324.35) -> (-3860.8, -4324.35) projected
  line L24 (-1441.45, -4400.55) -> (-3860.8, -4400.55)
  line L25 (-3860.8, -4400.55) -> (-3860.8, -4324.35)
  line L26 (-3860.8, -4324.35) -> (-1441.45, -4324.35)
  line L27 (-1441.45, -4324.35) -> (-1441.45, -4400.55)
  point P0 (0, 0)
  dimension "d46" = 38.1
extrude "Extrusion8" add sketch "Sketch8" against normal blind 190.5
properties part number "Basement_And_First_Floor_Joists_And_Subfloor" material "Wood (Southern Pine)"
